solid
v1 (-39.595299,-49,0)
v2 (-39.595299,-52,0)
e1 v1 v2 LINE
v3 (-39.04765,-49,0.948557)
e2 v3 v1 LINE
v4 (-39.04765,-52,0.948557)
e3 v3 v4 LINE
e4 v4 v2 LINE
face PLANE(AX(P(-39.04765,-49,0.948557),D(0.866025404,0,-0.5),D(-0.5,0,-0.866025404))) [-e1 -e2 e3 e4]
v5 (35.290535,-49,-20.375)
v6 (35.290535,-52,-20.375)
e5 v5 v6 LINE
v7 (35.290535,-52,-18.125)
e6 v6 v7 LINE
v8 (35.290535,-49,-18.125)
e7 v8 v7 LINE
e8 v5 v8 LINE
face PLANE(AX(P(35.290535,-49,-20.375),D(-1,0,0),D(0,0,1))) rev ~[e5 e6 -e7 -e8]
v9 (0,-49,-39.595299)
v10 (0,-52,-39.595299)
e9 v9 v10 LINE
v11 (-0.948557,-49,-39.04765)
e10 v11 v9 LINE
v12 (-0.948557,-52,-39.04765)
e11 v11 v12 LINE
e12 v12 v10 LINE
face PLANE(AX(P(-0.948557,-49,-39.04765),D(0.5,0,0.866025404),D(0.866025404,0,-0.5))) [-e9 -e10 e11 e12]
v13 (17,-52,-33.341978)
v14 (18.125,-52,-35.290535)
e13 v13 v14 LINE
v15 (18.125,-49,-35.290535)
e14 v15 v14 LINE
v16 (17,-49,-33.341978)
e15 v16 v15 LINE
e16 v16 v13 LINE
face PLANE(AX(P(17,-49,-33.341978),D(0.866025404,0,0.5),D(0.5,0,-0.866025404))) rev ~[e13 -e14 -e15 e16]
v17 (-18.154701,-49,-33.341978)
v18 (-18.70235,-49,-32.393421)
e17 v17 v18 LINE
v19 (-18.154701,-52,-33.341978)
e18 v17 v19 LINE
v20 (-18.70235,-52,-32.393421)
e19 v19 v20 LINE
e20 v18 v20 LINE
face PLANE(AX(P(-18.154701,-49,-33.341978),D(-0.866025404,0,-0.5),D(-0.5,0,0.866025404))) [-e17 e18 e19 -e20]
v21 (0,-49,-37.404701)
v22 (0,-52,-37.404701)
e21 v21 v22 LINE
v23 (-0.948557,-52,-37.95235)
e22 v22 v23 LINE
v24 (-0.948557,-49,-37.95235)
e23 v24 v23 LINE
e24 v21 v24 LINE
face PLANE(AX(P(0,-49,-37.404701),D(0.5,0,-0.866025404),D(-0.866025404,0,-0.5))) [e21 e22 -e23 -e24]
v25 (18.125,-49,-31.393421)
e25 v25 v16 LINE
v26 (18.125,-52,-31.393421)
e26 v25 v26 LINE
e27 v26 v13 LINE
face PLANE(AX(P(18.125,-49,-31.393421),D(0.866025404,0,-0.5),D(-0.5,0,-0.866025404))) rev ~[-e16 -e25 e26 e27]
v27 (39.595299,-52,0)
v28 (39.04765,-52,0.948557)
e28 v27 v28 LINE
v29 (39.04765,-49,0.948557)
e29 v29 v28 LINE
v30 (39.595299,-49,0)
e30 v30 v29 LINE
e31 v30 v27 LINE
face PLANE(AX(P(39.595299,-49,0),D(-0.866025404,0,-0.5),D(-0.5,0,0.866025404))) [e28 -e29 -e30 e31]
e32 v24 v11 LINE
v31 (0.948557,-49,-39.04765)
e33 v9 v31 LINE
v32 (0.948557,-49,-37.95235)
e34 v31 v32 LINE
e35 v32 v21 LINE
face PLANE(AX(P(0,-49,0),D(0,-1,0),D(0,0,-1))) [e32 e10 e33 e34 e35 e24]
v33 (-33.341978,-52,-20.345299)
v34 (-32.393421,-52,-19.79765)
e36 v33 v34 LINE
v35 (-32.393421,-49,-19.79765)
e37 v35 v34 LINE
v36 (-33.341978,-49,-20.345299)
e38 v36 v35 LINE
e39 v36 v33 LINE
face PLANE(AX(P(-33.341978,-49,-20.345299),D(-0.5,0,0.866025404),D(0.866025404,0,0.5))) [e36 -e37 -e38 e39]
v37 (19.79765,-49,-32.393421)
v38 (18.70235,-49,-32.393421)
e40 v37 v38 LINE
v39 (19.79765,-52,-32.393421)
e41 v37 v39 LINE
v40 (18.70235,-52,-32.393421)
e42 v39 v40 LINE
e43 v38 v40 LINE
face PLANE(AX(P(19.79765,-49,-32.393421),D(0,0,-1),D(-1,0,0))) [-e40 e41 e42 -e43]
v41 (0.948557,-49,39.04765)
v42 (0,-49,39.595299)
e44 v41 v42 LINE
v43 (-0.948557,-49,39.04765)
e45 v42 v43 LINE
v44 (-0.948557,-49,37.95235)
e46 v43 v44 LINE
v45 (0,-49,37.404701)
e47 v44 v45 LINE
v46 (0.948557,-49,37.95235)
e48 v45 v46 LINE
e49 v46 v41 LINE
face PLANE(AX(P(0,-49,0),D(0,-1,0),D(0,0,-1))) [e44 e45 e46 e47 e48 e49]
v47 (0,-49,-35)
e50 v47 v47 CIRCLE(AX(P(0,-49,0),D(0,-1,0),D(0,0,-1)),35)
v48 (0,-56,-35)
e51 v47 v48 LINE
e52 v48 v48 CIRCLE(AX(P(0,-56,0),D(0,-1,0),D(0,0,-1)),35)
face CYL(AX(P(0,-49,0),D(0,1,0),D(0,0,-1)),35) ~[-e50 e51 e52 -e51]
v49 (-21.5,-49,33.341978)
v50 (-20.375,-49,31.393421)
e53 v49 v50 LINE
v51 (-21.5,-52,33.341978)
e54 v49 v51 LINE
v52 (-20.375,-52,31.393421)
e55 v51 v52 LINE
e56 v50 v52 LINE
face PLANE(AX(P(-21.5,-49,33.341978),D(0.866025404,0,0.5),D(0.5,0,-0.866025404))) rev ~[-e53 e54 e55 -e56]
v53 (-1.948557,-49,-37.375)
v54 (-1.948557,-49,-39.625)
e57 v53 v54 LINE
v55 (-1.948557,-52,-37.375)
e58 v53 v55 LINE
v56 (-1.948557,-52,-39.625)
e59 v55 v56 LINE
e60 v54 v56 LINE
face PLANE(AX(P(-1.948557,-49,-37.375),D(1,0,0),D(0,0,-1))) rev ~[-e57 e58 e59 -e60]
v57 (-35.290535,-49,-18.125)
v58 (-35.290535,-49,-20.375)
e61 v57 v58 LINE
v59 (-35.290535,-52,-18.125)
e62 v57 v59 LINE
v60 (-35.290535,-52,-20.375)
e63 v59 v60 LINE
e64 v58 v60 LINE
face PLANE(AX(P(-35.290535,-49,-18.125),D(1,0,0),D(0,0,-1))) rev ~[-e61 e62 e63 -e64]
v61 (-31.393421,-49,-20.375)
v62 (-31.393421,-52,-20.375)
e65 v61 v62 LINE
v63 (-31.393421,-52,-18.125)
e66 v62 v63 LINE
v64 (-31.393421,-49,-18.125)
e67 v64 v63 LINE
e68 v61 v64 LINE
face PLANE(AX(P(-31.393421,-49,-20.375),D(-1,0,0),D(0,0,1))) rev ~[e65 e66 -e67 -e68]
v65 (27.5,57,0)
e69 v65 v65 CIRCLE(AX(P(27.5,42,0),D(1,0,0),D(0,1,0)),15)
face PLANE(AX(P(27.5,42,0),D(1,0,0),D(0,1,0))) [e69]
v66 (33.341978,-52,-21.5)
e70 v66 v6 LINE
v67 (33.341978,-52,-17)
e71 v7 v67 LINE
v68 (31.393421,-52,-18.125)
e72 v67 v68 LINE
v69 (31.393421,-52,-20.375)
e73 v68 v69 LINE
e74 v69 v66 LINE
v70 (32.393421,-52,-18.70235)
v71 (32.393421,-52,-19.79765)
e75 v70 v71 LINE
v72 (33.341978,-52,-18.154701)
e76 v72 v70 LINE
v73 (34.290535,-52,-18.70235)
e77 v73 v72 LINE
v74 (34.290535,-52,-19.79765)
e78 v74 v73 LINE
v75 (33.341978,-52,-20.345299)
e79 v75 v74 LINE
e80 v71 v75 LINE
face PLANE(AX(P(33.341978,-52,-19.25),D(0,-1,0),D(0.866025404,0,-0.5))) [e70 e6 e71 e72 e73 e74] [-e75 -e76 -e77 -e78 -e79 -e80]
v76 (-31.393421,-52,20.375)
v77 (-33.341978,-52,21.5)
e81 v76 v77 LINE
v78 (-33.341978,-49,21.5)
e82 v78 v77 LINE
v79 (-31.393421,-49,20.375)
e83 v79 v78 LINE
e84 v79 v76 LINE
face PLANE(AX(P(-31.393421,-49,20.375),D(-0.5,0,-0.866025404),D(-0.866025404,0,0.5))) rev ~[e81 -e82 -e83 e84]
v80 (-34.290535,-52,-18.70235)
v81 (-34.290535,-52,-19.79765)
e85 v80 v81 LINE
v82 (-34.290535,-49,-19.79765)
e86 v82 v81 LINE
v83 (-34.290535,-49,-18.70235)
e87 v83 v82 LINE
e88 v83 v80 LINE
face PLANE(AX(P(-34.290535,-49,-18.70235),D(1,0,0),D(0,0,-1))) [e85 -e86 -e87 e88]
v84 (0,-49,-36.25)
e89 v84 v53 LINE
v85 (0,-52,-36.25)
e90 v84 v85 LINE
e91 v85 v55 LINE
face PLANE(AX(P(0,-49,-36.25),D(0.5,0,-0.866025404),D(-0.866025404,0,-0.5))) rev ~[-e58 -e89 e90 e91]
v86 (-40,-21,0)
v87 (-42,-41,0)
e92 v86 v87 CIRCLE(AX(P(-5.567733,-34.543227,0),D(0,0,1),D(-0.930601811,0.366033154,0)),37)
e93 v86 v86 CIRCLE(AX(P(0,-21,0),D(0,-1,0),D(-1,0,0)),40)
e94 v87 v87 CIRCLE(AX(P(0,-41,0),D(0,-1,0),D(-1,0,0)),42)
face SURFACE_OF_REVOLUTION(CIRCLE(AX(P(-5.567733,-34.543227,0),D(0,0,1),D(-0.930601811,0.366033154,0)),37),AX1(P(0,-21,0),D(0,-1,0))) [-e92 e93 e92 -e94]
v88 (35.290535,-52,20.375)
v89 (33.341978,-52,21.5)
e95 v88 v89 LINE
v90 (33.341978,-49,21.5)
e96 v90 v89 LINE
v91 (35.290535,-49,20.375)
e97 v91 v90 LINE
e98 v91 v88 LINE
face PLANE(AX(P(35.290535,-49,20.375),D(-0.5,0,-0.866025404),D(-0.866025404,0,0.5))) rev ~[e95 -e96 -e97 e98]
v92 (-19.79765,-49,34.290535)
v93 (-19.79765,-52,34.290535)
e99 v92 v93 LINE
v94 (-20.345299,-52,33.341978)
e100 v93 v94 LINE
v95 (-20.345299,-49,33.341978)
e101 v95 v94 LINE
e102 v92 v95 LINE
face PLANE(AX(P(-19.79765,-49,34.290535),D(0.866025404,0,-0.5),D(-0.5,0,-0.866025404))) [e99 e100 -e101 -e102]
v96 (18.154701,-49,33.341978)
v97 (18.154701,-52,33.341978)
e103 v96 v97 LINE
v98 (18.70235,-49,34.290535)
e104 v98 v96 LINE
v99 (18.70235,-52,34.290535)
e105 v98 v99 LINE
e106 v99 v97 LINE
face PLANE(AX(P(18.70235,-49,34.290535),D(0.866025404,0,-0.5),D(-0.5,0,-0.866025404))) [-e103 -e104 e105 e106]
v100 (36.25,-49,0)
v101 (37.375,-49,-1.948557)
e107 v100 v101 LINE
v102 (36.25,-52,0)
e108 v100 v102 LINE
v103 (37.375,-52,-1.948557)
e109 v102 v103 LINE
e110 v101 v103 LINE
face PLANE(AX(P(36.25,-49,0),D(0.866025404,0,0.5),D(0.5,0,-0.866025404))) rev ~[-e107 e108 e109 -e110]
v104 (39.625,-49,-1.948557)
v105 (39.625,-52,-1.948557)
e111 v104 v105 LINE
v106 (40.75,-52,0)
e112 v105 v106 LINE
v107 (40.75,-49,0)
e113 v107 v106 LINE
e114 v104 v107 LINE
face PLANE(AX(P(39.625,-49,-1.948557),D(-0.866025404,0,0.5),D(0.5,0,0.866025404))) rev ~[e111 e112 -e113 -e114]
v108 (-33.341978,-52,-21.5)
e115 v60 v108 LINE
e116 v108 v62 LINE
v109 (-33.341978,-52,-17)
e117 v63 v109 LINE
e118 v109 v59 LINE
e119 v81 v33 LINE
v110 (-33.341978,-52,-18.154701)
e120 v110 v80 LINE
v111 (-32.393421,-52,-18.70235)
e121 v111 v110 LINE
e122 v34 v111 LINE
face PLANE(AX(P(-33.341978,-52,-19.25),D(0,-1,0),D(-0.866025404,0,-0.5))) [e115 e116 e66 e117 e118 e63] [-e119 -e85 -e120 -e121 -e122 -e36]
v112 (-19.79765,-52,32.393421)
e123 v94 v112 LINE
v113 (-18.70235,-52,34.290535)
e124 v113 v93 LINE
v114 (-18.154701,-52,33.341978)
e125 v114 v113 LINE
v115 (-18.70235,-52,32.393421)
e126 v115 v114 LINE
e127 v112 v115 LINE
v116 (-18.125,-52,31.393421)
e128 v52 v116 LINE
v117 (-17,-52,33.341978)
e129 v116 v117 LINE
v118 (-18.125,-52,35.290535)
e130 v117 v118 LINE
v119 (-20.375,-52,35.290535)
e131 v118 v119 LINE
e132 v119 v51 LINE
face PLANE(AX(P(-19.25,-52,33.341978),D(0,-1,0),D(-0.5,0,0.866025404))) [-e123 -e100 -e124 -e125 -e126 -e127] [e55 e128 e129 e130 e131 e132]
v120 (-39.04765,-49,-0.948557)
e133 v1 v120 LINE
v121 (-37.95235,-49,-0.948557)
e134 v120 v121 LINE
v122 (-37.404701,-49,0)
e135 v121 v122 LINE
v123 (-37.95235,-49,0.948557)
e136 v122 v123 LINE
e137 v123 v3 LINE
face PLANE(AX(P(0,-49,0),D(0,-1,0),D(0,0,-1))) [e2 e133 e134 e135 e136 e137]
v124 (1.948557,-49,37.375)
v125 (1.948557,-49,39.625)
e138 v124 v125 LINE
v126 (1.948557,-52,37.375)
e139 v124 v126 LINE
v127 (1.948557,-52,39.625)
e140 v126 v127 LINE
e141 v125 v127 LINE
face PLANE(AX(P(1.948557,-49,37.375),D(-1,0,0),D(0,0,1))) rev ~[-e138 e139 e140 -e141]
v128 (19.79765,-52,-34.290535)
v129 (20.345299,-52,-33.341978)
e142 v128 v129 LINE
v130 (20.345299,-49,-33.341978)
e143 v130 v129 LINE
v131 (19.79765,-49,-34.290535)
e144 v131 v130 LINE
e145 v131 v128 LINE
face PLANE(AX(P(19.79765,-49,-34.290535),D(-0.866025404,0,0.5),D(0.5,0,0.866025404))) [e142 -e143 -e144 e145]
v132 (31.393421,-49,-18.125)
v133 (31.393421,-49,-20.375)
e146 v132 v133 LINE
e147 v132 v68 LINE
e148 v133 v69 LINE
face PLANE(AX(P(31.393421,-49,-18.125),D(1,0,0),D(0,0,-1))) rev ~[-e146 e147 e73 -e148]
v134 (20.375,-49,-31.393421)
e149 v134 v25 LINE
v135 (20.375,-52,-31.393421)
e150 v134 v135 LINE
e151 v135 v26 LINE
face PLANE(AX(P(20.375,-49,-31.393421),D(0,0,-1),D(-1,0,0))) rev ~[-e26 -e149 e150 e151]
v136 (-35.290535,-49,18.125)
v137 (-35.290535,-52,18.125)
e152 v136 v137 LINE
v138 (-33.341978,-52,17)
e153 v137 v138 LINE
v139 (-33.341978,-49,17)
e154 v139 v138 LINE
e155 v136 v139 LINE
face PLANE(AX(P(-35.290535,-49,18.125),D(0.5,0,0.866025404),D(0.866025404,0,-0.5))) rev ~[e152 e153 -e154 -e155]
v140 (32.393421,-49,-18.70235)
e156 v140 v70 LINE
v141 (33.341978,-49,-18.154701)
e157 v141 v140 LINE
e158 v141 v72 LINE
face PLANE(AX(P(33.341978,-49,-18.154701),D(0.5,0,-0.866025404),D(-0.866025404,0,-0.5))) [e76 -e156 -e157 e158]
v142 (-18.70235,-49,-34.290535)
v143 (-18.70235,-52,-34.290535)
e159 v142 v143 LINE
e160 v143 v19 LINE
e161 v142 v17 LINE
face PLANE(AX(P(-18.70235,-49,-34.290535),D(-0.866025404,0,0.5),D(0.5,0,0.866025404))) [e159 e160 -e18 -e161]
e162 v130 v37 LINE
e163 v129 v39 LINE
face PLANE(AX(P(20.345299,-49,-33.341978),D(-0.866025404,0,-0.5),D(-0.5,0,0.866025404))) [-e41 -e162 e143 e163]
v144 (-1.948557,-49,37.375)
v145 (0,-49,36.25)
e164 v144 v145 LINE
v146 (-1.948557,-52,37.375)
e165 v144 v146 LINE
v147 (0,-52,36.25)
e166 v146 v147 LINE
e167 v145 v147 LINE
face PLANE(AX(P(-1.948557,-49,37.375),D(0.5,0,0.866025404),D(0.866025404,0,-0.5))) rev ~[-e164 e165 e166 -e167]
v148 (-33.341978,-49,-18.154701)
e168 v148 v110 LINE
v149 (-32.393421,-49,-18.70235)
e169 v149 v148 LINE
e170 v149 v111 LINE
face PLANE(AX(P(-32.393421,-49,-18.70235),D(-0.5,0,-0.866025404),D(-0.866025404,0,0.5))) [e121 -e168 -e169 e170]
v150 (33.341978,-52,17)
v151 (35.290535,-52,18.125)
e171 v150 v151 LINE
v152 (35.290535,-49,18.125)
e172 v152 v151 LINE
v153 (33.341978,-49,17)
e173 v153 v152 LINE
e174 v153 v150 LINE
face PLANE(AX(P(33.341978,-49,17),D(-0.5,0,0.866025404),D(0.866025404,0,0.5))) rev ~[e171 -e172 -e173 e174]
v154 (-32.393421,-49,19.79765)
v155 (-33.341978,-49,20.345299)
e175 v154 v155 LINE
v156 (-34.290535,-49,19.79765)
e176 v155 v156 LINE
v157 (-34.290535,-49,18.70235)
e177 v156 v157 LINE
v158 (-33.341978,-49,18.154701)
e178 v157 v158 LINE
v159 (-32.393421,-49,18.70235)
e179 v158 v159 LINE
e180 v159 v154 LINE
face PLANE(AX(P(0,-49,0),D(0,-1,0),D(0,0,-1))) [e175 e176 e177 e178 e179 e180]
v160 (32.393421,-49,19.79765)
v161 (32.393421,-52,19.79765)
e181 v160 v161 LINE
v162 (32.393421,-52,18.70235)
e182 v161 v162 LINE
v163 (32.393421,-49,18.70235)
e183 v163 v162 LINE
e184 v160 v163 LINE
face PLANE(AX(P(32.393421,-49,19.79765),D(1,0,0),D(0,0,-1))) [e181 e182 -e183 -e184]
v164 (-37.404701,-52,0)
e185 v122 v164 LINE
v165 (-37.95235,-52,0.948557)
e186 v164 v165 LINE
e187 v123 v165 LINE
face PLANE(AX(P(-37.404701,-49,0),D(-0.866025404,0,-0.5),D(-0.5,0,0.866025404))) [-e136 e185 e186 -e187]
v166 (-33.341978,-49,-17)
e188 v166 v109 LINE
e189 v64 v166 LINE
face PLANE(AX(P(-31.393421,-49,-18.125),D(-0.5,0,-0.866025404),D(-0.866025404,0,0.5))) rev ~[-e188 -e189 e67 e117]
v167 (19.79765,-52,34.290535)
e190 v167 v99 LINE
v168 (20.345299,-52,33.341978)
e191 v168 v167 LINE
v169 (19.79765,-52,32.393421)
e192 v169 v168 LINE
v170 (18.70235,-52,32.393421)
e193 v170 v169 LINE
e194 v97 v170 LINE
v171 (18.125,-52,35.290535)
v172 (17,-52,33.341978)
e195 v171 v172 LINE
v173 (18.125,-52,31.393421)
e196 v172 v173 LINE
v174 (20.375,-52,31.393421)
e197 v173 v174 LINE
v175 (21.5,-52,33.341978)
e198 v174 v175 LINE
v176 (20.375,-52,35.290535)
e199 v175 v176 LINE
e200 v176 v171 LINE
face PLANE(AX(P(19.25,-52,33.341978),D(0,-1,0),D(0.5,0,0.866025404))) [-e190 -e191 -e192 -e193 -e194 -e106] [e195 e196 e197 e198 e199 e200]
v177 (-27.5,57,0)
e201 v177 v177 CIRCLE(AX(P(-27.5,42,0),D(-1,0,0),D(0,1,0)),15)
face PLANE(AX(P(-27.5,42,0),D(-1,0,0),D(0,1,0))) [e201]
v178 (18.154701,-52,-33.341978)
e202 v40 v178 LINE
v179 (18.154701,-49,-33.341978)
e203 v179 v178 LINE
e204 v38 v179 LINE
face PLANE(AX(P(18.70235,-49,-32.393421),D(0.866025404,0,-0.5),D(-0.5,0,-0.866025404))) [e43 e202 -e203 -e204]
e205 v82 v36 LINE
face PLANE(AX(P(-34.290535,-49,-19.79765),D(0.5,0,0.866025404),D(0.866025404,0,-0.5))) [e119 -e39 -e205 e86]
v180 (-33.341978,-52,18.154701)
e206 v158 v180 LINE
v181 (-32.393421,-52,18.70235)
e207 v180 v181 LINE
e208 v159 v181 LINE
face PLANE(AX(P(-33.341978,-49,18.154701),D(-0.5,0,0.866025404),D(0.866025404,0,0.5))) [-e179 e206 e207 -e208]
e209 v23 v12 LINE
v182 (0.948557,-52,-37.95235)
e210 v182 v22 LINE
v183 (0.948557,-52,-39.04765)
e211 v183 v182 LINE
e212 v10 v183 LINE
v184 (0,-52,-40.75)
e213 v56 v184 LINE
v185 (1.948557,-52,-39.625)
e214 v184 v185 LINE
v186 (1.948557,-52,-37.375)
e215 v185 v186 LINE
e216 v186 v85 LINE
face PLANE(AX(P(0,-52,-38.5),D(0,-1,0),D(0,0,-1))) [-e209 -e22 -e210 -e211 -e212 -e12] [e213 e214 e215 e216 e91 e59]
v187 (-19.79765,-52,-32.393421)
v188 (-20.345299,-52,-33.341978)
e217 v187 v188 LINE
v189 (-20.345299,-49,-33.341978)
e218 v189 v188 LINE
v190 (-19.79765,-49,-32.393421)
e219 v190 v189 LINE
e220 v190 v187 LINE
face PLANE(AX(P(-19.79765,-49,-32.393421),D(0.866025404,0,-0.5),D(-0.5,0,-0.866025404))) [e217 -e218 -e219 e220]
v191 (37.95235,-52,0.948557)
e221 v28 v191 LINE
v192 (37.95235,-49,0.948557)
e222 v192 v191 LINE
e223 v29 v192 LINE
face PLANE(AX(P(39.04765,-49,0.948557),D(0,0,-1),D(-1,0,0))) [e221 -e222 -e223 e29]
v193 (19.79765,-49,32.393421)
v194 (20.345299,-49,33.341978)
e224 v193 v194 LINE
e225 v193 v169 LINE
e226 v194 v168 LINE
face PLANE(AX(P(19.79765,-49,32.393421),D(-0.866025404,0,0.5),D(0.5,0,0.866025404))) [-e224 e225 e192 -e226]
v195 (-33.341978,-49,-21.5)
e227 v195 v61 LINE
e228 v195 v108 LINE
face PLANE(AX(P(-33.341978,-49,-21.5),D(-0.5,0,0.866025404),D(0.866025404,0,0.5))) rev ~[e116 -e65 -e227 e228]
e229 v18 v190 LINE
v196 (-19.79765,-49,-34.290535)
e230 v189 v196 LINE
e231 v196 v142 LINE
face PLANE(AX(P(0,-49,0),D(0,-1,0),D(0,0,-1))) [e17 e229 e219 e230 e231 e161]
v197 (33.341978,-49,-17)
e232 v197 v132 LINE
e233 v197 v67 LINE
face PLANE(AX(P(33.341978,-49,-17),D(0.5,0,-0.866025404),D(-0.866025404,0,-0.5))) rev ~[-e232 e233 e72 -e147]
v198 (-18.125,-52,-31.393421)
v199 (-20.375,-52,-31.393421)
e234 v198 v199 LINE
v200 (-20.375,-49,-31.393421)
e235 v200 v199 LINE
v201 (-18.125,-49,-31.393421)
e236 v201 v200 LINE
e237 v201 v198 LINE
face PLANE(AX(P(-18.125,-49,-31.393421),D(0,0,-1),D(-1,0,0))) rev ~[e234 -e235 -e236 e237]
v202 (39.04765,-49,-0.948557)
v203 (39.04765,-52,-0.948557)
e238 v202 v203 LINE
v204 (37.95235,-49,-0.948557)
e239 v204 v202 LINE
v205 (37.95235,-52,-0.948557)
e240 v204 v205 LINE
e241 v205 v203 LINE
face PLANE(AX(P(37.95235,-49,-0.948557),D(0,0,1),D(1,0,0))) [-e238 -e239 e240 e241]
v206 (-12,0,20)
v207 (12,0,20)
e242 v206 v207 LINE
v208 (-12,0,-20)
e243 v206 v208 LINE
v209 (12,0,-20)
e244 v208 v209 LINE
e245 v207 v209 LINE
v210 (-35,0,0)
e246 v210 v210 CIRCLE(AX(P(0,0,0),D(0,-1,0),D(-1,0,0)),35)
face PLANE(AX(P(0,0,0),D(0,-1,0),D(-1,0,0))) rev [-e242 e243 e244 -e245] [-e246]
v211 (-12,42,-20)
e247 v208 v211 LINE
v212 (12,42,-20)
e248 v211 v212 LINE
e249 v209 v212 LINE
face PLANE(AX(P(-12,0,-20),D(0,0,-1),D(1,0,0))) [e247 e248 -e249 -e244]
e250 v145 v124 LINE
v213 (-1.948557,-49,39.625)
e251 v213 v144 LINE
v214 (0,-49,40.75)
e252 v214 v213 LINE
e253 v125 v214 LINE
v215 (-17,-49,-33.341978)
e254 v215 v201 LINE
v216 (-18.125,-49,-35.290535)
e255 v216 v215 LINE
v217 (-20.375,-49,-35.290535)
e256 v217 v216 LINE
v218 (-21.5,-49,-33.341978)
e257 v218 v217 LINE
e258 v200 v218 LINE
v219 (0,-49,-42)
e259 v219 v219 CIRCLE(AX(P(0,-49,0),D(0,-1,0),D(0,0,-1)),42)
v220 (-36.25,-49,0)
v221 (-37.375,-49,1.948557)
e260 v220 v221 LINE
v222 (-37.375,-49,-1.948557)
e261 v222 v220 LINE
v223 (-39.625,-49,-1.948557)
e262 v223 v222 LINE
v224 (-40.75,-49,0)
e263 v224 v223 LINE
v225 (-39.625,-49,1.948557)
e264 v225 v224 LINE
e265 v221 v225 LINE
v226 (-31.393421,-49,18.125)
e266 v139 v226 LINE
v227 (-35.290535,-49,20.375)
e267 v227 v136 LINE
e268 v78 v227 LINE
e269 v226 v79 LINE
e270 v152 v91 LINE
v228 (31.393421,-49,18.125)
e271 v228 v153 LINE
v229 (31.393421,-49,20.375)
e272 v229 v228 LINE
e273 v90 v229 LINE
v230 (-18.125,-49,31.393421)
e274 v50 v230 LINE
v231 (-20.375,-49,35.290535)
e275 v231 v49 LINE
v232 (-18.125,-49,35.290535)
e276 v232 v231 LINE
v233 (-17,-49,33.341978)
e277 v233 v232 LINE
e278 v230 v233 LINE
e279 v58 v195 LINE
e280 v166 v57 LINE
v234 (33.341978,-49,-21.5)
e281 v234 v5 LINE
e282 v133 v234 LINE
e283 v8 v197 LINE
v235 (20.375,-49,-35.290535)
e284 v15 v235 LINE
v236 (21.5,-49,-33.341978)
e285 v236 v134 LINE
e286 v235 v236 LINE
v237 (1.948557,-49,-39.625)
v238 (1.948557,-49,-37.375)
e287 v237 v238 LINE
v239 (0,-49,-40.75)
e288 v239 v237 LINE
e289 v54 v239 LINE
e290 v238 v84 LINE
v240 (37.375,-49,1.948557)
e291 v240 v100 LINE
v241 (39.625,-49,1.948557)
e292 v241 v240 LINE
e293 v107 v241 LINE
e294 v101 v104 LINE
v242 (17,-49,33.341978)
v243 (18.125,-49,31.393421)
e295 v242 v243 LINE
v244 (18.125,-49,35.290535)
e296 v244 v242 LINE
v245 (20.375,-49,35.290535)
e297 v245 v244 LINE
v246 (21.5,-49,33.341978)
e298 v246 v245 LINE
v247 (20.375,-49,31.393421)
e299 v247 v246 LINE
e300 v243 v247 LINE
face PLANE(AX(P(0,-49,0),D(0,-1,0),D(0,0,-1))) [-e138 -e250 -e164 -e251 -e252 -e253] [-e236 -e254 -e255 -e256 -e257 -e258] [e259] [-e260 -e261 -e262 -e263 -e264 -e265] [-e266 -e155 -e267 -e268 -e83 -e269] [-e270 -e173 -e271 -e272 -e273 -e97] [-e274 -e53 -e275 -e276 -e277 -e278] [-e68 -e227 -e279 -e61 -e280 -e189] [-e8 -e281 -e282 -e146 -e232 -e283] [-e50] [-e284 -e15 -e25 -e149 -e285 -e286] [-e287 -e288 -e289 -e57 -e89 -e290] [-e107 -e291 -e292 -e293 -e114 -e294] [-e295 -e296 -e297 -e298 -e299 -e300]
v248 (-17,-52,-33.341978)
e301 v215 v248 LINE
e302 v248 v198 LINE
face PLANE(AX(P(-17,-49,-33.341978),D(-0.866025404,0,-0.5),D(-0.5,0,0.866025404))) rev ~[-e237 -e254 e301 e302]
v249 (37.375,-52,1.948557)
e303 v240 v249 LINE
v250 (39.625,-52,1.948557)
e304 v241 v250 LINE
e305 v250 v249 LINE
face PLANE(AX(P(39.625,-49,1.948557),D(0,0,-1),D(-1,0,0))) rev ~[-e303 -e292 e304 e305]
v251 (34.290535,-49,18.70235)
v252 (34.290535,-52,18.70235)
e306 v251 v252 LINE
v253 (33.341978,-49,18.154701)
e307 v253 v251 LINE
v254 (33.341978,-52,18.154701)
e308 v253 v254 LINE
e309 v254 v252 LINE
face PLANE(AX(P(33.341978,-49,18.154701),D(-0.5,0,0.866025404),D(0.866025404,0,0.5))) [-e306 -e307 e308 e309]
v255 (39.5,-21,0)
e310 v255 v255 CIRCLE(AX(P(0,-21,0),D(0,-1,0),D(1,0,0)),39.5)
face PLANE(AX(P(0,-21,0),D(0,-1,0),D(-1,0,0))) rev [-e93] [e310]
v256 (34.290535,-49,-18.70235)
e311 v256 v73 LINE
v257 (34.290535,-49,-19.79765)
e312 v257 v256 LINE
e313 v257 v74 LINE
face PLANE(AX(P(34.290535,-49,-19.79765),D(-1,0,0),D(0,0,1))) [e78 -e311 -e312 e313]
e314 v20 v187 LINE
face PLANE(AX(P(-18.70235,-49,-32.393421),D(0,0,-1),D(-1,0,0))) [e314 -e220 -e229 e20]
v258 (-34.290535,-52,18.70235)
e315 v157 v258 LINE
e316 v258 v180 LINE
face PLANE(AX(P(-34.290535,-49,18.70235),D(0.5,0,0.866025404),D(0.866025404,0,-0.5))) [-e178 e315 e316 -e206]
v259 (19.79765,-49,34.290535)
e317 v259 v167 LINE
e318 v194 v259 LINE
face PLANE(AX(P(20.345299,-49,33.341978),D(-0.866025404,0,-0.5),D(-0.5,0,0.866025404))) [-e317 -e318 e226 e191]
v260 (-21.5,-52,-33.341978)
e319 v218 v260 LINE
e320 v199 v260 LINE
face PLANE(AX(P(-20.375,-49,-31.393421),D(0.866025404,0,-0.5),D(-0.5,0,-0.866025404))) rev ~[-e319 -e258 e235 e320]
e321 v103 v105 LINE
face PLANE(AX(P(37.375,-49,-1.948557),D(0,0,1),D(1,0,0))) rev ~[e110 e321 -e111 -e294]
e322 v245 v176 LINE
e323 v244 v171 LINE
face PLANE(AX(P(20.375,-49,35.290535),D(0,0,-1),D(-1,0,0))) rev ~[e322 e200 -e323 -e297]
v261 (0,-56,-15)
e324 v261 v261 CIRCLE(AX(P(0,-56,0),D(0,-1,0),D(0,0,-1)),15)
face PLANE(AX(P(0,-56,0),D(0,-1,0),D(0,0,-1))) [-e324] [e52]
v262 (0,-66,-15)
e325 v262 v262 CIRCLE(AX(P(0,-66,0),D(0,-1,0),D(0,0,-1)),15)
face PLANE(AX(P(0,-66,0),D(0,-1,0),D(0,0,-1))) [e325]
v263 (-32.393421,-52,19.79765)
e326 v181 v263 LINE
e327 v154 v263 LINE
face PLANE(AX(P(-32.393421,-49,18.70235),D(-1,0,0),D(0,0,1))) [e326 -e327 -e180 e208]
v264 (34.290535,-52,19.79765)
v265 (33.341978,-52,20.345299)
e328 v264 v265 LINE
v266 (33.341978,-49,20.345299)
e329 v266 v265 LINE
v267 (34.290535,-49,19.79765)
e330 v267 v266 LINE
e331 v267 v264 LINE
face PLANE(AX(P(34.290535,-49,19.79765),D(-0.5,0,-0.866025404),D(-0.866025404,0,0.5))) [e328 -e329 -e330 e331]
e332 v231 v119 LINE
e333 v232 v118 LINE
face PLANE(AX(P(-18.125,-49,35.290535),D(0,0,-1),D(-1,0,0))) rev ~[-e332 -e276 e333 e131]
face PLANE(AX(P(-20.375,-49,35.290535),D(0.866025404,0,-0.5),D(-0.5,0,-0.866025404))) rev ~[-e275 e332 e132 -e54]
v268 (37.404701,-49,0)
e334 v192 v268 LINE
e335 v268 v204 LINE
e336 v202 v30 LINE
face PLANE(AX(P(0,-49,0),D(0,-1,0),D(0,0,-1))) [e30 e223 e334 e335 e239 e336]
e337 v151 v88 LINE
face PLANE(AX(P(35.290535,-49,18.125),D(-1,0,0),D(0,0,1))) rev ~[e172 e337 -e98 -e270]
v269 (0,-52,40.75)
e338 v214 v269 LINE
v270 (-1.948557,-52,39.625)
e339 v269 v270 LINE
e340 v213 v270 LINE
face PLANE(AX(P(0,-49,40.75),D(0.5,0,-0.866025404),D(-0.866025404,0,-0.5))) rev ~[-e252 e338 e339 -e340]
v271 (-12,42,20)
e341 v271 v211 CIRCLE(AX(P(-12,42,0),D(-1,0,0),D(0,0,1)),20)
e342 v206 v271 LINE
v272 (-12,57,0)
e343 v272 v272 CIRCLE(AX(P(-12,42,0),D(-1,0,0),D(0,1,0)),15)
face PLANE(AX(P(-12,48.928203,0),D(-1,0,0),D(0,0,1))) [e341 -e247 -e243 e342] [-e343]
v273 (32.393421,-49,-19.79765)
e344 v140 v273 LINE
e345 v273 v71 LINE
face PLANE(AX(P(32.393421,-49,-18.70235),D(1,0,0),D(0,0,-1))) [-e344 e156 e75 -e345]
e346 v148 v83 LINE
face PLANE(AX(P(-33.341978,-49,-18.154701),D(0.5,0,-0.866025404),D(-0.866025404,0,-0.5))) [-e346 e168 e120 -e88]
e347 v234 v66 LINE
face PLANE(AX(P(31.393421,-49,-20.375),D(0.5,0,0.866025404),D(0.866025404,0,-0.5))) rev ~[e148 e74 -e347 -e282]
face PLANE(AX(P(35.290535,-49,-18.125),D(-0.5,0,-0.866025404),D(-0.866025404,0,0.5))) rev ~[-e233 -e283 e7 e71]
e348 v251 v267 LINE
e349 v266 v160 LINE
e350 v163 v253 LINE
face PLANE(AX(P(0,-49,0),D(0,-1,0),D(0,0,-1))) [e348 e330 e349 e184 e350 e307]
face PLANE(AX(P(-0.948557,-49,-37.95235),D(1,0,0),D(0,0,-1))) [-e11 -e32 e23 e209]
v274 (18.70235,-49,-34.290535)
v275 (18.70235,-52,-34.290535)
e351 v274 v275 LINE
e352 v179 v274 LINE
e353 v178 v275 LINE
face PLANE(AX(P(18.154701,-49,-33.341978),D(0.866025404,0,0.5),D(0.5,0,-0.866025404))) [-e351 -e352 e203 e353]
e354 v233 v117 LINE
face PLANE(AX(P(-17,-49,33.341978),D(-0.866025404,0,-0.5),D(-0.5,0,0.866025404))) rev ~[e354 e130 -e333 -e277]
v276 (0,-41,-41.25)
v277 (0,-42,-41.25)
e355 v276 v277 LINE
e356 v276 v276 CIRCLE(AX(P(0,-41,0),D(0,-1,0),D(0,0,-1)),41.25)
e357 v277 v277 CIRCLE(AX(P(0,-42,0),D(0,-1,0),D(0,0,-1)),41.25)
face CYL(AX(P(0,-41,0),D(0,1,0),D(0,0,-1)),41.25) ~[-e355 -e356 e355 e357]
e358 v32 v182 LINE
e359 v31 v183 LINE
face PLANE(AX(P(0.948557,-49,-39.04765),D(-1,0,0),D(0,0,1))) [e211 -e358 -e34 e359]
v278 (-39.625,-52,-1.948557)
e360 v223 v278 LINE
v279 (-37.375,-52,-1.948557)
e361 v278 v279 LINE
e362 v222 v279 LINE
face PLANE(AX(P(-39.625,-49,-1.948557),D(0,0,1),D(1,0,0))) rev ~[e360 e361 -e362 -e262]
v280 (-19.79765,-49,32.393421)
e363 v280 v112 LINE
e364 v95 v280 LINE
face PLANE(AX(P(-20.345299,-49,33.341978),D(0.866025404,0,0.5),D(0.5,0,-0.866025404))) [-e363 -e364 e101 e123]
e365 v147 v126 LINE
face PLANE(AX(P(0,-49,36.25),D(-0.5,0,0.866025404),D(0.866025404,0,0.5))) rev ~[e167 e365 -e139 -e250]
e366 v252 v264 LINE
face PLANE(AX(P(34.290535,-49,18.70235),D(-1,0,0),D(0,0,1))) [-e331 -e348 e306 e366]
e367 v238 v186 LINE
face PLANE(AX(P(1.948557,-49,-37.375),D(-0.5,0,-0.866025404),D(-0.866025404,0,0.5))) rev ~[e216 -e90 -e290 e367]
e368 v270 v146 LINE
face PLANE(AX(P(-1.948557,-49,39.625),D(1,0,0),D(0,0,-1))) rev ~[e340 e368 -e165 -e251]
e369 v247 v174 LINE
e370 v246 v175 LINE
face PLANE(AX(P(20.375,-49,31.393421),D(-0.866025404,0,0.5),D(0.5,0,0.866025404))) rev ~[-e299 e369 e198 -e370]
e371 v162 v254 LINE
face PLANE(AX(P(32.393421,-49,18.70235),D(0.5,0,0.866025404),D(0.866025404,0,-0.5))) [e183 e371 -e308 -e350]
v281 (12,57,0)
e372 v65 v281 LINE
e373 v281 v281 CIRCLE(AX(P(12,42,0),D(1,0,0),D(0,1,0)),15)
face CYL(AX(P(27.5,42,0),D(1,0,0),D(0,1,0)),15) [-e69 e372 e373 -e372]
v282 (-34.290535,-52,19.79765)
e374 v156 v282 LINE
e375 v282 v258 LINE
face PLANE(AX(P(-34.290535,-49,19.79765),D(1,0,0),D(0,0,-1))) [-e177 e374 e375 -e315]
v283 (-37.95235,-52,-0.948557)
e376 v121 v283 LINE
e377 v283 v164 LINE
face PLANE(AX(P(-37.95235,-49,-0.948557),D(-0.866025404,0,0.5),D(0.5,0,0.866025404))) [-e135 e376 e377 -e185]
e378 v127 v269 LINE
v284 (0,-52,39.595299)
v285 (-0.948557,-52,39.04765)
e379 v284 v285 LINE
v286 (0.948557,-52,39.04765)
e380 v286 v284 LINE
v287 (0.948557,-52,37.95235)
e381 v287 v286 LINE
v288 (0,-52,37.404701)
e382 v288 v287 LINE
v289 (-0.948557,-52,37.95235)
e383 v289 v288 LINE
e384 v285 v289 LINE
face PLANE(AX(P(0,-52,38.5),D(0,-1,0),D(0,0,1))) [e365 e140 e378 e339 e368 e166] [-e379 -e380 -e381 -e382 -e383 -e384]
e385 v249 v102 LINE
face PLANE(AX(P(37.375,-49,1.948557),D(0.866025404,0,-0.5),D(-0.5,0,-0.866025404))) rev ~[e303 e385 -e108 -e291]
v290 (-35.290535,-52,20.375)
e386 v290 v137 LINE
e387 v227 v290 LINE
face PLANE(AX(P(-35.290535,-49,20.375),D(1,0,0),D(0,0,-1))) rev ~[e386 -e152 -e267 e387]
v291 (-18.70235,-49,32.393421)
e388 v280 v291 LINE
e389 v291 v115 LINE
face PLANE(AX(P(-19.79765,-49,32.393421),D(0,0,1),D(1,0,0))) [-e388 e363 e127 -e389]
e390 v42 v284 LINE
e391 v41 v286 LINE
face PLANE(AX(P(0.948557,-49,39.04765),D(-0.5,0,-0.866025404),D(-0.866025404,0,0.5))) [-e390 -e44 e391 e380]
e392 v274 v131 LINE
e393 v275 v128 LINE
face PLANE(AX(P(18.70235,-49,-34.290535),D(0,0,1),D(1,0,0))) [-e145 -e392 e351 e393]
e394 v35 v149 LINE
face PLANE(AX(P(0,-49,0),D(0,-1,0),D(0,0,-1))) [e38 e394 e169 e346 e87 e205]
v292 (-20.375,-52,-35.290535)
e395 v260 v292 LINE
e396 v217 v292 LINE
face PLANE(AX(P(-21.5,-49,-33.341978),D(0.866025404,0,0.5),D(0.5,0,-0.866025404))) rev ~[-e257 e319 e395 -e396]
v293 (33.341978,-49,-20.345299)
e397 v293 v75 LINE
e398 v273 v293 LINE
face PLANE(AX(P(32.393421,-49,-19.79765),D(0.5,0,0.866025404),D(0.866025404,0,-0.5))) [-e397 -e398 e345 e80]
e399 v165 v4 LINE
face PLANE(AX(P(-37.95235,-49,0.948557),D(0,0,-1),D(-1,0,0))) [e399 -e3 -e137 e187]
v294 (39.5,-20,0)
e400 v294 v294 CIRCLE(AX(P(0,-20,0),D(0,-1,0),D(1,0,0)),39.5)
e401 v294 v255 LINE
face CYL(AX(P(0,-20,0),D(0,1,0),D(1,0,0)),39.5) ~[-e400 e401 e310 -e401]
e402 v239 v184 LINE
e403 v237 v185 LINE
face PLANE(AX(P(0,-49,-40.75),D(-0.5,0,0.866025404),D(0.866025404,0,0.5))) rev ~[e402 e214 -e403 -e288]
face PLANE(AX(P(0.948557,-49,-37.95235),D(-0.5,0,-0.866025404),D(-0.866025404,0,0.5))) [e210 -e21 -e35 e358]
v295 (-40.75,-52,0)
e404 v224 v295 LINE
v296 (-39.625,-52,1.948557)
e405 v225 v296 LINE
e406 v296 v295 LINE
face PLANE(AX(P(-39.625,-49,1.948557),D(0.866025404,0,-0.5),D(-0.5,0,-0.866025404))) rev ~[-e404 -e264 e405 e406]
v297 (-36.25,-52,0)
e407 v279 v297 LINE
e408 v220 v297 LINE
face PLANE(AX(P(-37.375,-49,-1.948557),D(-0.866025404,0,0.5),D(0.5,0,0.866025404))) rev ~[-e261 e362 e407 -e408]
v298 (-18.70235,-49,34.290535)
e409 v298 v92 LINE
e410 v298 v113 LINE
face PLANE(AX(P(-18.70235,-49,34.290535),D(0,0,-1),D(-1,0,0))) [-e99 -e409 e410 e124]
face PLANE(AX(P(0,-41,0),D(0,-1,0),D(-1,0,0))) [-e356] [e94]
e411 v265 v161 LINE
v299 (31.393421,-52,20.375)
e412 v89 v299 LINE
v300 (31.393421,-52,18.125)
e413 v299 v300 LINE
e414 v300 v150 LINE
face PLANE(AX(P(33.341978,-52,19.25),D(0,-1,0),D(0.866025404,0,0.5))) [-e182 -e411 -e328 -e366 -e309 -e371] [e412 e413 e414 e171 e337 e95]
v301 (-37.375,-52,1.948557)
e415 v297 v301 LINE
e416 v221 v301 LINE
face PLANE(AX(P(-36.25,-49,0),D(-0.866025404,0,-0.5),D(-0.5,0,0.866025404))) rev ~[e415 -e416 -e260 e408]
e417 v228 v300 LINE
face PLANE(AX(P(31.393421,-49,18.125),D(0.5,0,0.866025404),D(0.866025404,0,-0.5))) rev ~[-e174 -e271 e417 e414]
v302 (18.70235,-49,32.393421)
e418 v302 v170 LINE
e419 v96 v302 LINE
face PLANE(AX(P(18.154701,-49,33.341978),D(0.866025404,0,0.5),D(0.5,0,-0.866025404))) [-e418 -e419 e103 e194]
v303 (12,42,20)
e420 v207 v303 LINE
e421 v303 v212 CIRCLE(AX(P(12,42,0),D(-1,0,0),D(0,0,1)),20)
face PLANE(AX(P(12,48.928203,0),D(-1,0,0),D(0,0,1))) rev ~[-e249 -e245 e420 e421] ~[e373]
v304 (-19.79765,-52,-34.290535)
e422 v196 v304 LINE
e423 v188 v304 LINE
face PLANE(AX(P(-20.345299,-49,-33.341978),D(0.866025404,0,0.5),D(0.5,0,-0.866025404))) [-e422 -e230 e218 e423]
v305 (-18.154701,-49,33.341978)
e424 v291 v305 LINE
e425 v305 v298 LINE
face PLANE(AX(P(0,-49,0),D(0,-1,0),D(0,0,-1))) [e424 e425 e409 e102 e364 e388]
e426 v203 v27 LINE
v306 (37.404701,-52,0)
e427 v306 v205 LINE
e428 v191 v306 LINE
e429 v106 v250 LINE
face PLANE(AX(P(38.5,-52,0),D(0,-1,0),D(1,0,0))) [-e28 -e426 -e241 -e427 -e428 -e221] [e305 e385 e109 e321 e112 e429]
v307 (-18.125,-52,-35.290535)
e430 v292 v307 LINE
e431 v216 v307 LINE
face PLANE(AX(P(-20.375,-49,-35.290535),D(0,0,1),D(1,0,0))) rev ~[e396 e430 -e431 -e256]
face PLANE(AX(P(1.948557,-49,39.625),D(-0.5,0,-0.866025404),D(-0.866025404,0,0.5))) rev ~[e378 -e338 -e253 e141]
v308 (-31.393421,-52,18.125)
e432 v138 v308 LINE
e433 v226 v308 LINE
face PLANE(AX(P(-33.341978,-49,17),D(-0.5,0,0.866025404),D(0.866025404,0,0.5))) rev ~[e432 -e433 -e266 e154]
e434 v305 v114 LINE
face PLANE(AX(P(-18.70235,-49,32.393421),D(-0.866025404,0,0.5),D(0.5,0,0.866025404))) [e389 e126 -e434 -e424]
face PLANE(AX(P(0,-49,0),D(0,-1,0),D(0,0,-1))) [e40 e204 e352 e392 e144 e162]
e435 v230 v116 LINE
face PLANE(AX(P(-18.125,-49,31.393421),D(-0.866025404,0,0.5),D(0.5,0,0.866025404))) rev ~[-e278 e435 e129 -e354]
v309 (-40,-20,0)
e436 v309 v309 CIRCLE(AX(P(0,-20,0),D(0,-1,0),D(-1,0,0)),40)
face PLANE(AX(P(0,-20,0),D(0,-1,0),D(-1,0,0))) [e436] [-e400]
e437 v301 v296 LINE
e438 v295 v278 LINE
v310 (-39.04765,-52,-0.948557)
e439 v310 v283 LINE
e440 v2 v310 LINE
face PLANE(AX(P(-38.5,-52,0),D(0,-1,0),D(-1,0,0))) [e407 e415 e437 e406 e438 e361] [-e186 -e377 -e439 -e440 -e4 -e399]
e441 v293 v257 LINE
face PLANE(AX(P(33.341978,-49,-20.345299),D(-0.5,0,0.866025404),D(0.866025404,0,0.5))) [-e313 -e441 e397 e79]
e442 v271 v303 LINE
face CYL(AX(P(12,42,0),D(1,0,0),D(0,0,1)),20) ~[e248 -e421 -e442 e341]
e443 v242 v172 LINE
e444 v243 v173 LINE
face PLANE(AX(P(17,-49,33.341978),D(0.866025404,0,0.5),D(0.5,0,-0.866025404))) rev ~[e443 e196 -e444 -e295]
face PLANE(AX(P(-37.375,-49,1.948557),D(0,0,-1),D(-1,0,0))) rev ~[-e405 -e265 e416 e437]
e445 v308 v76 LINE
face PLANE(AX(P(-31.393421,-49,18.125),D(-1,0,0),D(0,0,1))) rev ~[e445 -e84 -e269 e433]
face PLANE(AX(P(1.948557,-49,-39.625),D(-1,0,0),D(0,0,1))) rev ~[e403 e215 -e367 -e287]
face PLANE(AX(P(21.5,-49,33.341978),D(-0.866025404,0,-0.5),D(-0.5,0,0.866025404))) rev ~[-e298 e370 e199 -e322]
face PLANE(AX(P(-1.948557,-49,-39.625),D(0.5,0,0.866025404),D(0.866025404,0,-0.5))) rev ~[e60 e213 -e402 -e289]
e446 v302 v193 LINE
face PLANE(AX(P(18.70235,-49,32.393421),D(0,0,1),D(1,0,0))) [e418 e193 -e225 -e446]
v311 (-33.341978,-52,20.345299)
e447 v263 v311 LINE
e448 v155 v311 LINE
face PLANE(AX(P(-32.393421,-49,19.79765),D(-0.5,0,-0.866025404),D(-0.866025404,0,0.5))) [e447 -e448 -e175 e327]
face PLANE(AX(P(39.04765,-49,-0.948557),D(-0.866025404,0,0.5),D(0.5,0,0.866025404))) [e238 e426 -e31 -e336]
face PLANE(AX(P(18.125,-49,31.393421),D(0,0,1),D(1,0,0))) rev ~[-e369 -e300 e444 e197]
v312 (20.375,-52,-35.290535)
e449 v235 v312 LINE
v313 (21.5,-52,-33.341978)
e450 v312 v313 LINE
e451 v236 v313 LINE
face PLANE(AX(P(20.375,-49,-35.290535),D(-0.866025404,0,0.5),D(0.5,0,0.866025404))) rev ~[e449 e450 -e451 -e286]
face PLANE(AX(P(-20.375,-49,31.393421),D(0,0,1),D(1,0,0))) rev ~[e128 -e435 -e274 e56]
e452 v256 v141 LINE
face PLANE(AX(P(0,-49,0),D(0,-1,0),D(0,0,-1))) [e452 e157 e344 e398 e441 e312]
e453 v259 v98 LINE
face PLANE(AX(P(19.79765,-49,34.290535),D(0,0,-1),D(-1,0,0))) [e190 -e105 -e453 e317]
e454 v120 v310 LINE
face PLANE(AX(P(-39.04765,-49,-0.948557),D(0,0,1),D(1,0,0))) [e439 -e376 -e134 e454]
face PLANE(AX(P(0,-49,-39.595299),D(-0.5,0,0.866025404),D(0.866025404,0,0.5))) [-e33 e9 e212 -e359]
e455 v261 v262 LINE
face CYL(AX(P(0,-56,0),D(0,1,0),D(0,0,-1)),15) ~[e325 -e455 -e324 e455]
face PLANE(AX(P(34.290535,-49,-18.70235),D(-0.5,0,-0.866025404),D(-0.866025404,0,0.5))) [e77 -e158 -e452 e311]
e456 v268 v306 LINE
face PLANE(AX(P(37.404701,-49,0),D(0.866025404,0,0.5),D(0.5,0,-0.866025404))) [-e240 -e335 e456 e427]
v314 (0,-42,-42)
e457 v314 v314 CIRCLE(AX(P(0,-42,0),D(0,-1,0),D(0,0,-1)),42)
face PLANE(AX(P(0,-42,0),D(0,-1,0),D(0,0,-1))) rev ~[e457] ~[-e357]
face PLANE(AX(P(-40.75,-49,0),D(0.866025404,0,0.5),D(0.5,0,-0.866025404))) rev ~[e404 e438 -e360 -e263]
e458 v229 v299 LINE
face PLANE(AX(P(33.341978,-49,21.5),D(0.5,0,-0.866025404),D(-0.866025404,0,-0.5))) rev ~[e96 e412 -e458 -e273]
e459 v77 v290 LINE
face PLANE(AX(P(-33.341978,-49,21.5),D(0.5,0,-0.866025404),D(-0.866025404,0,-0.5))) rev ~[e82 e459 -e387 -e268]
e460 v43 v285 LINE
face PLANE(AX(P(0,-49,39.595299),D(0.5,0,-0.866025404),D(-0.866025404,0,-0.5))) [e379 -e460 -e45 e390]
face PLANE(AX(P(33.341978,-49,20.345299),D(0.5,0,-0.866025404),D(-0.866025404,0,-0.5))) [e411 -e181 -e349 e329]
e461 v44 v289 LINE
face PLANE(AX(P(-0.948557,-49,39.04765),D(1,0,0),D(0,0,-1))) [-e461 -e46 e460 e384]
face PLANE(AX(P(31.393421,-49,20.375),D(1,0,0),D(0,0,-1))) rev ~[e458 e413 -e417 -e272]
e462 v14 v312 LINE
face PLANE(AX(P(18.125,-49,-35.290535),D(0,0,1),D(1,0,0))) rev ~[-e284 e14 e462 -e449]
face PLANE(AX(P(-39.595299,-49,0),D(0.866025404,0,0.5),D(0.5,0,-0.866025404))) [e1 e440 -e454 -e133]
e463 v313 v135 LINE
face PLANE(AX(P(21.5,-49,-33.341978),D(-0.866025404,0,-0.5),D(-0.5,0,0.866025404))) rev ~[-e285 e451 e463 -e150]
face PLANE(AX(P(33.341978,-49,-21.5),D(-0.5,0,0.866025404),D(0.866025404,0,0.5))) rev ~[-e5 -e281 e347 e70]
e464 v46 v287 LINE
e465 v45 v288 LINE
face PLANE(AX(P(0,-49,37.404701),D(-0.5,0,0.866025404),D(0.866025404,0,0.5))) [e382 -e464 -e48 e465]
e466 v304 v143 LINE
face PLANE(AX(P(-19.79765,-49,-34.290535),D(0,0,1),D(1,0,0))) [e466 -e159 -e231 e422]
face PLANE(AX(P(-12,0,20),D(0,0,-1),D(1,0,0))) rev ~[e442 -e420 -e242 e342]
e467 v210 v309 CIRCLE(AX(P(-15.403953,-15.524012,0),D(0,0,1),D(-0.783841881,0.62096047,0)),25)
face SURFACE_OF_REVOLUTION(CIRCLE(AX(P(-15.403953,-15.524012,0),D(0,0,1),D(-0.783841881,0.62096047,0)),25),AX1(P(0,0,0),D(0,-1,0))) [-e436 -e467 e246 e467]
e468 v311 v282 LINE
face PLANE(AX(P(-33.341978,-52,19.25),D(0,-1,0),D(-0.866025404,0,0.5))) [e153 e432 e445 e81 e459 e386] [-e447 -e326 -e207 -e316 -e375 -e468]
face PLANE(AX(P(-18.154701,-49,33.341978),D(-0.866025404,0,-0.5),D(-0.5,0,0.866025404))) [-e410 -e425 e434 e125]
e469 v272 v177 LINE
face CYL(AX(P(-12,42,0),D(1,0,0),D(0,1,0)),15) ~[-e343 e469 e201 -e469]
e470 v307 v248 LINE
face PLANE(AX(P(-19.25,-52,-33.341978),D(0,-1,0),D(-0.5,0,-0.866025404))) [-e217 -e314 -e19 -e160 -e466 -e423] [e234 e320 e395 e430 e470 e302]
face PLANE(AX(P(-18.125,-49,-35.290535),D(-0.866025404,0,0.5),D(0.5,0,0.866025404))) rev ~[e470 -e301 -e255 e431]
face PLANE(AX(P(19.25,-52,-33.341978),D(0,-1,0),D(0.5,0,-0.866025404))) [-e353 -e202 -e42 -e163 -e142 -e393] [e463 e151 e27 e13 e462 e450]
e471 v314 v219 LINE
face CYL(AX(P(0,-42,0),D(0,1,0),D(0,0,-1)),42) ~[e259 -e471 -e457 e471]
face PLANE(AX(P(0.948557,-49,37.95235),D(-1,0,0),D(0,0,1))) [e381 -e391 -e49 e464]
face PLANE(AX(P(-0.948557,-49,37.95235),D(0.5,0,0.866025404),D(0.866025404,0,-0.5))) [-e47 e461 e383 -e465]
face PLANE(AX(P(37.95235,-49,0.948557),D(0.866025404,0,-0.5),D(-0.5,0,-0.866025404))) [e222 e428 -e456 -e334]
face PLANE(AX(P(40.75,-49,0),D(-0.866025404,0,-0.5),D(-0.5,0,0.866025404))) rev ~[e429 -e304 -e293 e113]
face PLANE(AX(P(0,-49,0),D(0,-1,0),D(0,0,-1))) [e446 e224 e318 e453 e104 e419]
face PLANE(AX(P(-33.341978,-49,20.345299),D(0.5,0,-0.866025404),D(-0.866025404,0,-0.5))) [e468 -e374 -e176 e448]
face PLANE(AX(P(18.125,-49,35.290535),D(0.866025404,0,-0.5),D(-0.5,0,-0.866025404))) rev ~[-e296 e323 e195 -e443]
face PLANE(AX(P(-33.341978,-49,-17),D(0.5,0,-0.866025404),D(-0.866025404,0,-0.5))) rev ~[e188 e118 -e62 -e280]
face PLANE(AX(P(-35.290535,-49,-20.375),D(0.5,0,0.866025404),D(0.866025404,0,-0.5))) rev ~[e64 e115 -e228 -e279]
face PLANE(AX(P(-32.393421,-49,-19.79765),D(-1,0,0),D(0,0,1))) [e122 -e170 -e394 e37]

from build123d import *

# Parameters (mm, degrees)
SKETCH2_R            = 39.5
BOSS_EXTRUDE1_DEPTH  = 1
SKETCH4_R            = 41.25
BOSS_EXTRUDE2_DEPTH  = 1
SKETCH5_R            = 42
BOSS_EXTRUDE3_DEPTH  = 7
SKETCH6_R            = 35
BOSS_EXTRUDE4_DEPTH  = 7
BOSS_EXTRUDE7_DEPTH  = 3
CIRPATTERN2_COUNT    = 12
SKETCH8_R            = 15
BOSS_EXTRUDE8_DEPTH  = 10
SKETCH9_W            = 24
SKETCH9_H            = 40
BOSS_EXTRUDE9_DEPTH  = 42
BOSS_EXTRUDE10_START = -24
BOSS_EXTRUDE10_DEPTH = 24
SKETCH11_R           = 15
BOSS_EXTRUDE11_DEPTH = 15.5
BOSS_EXTRUDE12_START = 15.5
SKETCH12_R           = 15
BOSS_EXTRUDE12_DEPTH = 15.5


with BuildPart() as part:
    # Sketch1 → Revolve1 (revolve)
    with BuildSketch(Plane.XY):
        with BuildLine():
            Line((0, 0), (-35, 0))
            ThreePointArc((-35, 0), (-39.657515479, -9.46062113), (-40, -20))
            Line((-40, -20), (0, -20))
            Line((0, -20), (0, 0))
        make_face()
    revolve(axis=Axis((0, 0, 0), (0, -1, 0)))

    # Sketch2 → Boss-Extrude1 (add)
    with BuildSketch(Plane.XZ.offset(20)):
        Circle(SKETCH2_R)
    extrude(amount=BOSS_EXTRUDE1_DEPTH)

    # Sketch3 → Revolve2 (revolve)
    with BuildSketch(Plane(origin=(0, 0, 0), x_dir=(0, 0, -1), z_dir=(1, 0, 0)), mode=Mode.PRIVATE) as revolve2_sk:
        with BuildLine():
            Line((0, -21), (-40, -21))
            ThreePointArc((-40, -21), (-42.384109041, -30.861589096), (-42, -41))
            Line((-42, -41), (0, -41))
            Line((0, -41), (0, -21))
        make_face()
    revolve(revolve2_sk.sketch.rotate(Axis((0, -21, 0), (0, -1, 0)), 90), axis=Axis((0, -21, 0), (0, -1, 0)))

    # Sketch4 → Boss-Extrude2 (add)
    with BuildSketch(Plane.XZ.offset(41)):
        with Locations(Location((0, 0, 0), (0, 0, 270))):
            Circle(SKETCH4_R)
    extrude(amount=BOSS_EXTRUDE2_DEPTH)

    # Sketch5 → Boss-Extrude3 (add)
    with BuildSketch(Plane.XZ.offset(42)):
        with Locations(Location((0, 0, 0), (0, 0, 270))):
            Circle(SKETCH5_R)
    extrude(amount=BOSS_EXTRUDE3_DEPTH)

    # Sketch6 → Boss-Extrude4 (add)
    with BuildSketch(Plane.XZ.offset(49)):
        with Locations(Location((0, 0, 0), (0, 0, 270))):
            Circle(SKETCH6_R)
    extrude(amount=BOSS_EXTRUDE4_DEPTH)

    # Sketch7 → Boss-Extrude7 (add)
    with BuildSketch(Plane.XZ.offset(49)):
        Polygon((40.75, 0), (39.625, 1.948557159), (37.375, 1.948557159), (36.25, 0), (37.375, -1.948557159), (39.625, -1.948557159), align=None)
        Polygon((39.047649731, 0.948557159), (37.952350269, 0.948557159), (37.404700538, 0), (37.952350269, -0.948557159), (39.047649731, -0.948557159), (39.595299462, 0), align=None, mode=Mode.SUBTRACT)
    boss_extrude7 = extrude(amount=BOSS_EXTRUDE7_DEPTH)

    # CirPattern2: Boss-Extrude7 ×12 about axis
    cirpattern2_axis = Axis((0, 0, 0), (0, 1, 0))
    for i in range(1, CIRPATTERN2_COUNT):
        add(boss_extrude7.rotate(cirpattern2_axis, i * 360 / CIRPATTERN2_COUNT))

    # Sketch8 → Boss-Extrude8 (add)
    with BuildSketch(Plane.XZ.offset(56)):
        with Locations(Location((0, 0, 0), (0, 0, 270))):
            Circle(SKETCH8_R)
    extrude(amount=BOSS_EXTRUDE8_DEPTH)

    # Sketch9 → Boss-Extrude9 (add)
    with BuildSketch(Plane(origin=(0, 0, 0), x_dir=(1, 0, 0), z_dir=(0, 1, 0))):
        Rectangle(SKETCH9_W, SKETCH9_H)
    extrude(amount=BOSS_EXTRUDE9_DEPTH)

    # Sketch10 → Boss-Extrude10 (add)
    with BuildSketch(Plane.ZY.offset(12).offset(BOSS_EXTRUDE10_START)):
        with BuildLine():
            Line((-20, 42), (20, 42))
            ThreePointArc((20, 42), (0, 62), (-20, 42))
        make_face()
    extrude(amount=BOSS_EXTRUDE10_DEPTH)

    # Sketch11 → Boss-Extrude11 (add)
    with BuildSketch(Plane.ZY.offset(12)):
        with Locations(Location((0, 42, 0), (0, 0, 90))):
            Circle(SKETCH11_R)
    extrude(amount=BOSS_EXTRUDE11_DEPTH)

    # Sketch12 → Boss-Extrude12 (add)
    with BuildSketch(Plane(origin=(12, 0, 0), x_dir=(0, 0, -1), z_dir=(1, 0, 0)).offset(BOSS_EXTRUDE12_START)):
        with Locations(Location((0, 42, 0), (0, 0, 90))):
            Circle(SKETCH12_R)
    extrude(amount=-BOSS_EXTRUDE12_DEPTH)


solid = part.part
